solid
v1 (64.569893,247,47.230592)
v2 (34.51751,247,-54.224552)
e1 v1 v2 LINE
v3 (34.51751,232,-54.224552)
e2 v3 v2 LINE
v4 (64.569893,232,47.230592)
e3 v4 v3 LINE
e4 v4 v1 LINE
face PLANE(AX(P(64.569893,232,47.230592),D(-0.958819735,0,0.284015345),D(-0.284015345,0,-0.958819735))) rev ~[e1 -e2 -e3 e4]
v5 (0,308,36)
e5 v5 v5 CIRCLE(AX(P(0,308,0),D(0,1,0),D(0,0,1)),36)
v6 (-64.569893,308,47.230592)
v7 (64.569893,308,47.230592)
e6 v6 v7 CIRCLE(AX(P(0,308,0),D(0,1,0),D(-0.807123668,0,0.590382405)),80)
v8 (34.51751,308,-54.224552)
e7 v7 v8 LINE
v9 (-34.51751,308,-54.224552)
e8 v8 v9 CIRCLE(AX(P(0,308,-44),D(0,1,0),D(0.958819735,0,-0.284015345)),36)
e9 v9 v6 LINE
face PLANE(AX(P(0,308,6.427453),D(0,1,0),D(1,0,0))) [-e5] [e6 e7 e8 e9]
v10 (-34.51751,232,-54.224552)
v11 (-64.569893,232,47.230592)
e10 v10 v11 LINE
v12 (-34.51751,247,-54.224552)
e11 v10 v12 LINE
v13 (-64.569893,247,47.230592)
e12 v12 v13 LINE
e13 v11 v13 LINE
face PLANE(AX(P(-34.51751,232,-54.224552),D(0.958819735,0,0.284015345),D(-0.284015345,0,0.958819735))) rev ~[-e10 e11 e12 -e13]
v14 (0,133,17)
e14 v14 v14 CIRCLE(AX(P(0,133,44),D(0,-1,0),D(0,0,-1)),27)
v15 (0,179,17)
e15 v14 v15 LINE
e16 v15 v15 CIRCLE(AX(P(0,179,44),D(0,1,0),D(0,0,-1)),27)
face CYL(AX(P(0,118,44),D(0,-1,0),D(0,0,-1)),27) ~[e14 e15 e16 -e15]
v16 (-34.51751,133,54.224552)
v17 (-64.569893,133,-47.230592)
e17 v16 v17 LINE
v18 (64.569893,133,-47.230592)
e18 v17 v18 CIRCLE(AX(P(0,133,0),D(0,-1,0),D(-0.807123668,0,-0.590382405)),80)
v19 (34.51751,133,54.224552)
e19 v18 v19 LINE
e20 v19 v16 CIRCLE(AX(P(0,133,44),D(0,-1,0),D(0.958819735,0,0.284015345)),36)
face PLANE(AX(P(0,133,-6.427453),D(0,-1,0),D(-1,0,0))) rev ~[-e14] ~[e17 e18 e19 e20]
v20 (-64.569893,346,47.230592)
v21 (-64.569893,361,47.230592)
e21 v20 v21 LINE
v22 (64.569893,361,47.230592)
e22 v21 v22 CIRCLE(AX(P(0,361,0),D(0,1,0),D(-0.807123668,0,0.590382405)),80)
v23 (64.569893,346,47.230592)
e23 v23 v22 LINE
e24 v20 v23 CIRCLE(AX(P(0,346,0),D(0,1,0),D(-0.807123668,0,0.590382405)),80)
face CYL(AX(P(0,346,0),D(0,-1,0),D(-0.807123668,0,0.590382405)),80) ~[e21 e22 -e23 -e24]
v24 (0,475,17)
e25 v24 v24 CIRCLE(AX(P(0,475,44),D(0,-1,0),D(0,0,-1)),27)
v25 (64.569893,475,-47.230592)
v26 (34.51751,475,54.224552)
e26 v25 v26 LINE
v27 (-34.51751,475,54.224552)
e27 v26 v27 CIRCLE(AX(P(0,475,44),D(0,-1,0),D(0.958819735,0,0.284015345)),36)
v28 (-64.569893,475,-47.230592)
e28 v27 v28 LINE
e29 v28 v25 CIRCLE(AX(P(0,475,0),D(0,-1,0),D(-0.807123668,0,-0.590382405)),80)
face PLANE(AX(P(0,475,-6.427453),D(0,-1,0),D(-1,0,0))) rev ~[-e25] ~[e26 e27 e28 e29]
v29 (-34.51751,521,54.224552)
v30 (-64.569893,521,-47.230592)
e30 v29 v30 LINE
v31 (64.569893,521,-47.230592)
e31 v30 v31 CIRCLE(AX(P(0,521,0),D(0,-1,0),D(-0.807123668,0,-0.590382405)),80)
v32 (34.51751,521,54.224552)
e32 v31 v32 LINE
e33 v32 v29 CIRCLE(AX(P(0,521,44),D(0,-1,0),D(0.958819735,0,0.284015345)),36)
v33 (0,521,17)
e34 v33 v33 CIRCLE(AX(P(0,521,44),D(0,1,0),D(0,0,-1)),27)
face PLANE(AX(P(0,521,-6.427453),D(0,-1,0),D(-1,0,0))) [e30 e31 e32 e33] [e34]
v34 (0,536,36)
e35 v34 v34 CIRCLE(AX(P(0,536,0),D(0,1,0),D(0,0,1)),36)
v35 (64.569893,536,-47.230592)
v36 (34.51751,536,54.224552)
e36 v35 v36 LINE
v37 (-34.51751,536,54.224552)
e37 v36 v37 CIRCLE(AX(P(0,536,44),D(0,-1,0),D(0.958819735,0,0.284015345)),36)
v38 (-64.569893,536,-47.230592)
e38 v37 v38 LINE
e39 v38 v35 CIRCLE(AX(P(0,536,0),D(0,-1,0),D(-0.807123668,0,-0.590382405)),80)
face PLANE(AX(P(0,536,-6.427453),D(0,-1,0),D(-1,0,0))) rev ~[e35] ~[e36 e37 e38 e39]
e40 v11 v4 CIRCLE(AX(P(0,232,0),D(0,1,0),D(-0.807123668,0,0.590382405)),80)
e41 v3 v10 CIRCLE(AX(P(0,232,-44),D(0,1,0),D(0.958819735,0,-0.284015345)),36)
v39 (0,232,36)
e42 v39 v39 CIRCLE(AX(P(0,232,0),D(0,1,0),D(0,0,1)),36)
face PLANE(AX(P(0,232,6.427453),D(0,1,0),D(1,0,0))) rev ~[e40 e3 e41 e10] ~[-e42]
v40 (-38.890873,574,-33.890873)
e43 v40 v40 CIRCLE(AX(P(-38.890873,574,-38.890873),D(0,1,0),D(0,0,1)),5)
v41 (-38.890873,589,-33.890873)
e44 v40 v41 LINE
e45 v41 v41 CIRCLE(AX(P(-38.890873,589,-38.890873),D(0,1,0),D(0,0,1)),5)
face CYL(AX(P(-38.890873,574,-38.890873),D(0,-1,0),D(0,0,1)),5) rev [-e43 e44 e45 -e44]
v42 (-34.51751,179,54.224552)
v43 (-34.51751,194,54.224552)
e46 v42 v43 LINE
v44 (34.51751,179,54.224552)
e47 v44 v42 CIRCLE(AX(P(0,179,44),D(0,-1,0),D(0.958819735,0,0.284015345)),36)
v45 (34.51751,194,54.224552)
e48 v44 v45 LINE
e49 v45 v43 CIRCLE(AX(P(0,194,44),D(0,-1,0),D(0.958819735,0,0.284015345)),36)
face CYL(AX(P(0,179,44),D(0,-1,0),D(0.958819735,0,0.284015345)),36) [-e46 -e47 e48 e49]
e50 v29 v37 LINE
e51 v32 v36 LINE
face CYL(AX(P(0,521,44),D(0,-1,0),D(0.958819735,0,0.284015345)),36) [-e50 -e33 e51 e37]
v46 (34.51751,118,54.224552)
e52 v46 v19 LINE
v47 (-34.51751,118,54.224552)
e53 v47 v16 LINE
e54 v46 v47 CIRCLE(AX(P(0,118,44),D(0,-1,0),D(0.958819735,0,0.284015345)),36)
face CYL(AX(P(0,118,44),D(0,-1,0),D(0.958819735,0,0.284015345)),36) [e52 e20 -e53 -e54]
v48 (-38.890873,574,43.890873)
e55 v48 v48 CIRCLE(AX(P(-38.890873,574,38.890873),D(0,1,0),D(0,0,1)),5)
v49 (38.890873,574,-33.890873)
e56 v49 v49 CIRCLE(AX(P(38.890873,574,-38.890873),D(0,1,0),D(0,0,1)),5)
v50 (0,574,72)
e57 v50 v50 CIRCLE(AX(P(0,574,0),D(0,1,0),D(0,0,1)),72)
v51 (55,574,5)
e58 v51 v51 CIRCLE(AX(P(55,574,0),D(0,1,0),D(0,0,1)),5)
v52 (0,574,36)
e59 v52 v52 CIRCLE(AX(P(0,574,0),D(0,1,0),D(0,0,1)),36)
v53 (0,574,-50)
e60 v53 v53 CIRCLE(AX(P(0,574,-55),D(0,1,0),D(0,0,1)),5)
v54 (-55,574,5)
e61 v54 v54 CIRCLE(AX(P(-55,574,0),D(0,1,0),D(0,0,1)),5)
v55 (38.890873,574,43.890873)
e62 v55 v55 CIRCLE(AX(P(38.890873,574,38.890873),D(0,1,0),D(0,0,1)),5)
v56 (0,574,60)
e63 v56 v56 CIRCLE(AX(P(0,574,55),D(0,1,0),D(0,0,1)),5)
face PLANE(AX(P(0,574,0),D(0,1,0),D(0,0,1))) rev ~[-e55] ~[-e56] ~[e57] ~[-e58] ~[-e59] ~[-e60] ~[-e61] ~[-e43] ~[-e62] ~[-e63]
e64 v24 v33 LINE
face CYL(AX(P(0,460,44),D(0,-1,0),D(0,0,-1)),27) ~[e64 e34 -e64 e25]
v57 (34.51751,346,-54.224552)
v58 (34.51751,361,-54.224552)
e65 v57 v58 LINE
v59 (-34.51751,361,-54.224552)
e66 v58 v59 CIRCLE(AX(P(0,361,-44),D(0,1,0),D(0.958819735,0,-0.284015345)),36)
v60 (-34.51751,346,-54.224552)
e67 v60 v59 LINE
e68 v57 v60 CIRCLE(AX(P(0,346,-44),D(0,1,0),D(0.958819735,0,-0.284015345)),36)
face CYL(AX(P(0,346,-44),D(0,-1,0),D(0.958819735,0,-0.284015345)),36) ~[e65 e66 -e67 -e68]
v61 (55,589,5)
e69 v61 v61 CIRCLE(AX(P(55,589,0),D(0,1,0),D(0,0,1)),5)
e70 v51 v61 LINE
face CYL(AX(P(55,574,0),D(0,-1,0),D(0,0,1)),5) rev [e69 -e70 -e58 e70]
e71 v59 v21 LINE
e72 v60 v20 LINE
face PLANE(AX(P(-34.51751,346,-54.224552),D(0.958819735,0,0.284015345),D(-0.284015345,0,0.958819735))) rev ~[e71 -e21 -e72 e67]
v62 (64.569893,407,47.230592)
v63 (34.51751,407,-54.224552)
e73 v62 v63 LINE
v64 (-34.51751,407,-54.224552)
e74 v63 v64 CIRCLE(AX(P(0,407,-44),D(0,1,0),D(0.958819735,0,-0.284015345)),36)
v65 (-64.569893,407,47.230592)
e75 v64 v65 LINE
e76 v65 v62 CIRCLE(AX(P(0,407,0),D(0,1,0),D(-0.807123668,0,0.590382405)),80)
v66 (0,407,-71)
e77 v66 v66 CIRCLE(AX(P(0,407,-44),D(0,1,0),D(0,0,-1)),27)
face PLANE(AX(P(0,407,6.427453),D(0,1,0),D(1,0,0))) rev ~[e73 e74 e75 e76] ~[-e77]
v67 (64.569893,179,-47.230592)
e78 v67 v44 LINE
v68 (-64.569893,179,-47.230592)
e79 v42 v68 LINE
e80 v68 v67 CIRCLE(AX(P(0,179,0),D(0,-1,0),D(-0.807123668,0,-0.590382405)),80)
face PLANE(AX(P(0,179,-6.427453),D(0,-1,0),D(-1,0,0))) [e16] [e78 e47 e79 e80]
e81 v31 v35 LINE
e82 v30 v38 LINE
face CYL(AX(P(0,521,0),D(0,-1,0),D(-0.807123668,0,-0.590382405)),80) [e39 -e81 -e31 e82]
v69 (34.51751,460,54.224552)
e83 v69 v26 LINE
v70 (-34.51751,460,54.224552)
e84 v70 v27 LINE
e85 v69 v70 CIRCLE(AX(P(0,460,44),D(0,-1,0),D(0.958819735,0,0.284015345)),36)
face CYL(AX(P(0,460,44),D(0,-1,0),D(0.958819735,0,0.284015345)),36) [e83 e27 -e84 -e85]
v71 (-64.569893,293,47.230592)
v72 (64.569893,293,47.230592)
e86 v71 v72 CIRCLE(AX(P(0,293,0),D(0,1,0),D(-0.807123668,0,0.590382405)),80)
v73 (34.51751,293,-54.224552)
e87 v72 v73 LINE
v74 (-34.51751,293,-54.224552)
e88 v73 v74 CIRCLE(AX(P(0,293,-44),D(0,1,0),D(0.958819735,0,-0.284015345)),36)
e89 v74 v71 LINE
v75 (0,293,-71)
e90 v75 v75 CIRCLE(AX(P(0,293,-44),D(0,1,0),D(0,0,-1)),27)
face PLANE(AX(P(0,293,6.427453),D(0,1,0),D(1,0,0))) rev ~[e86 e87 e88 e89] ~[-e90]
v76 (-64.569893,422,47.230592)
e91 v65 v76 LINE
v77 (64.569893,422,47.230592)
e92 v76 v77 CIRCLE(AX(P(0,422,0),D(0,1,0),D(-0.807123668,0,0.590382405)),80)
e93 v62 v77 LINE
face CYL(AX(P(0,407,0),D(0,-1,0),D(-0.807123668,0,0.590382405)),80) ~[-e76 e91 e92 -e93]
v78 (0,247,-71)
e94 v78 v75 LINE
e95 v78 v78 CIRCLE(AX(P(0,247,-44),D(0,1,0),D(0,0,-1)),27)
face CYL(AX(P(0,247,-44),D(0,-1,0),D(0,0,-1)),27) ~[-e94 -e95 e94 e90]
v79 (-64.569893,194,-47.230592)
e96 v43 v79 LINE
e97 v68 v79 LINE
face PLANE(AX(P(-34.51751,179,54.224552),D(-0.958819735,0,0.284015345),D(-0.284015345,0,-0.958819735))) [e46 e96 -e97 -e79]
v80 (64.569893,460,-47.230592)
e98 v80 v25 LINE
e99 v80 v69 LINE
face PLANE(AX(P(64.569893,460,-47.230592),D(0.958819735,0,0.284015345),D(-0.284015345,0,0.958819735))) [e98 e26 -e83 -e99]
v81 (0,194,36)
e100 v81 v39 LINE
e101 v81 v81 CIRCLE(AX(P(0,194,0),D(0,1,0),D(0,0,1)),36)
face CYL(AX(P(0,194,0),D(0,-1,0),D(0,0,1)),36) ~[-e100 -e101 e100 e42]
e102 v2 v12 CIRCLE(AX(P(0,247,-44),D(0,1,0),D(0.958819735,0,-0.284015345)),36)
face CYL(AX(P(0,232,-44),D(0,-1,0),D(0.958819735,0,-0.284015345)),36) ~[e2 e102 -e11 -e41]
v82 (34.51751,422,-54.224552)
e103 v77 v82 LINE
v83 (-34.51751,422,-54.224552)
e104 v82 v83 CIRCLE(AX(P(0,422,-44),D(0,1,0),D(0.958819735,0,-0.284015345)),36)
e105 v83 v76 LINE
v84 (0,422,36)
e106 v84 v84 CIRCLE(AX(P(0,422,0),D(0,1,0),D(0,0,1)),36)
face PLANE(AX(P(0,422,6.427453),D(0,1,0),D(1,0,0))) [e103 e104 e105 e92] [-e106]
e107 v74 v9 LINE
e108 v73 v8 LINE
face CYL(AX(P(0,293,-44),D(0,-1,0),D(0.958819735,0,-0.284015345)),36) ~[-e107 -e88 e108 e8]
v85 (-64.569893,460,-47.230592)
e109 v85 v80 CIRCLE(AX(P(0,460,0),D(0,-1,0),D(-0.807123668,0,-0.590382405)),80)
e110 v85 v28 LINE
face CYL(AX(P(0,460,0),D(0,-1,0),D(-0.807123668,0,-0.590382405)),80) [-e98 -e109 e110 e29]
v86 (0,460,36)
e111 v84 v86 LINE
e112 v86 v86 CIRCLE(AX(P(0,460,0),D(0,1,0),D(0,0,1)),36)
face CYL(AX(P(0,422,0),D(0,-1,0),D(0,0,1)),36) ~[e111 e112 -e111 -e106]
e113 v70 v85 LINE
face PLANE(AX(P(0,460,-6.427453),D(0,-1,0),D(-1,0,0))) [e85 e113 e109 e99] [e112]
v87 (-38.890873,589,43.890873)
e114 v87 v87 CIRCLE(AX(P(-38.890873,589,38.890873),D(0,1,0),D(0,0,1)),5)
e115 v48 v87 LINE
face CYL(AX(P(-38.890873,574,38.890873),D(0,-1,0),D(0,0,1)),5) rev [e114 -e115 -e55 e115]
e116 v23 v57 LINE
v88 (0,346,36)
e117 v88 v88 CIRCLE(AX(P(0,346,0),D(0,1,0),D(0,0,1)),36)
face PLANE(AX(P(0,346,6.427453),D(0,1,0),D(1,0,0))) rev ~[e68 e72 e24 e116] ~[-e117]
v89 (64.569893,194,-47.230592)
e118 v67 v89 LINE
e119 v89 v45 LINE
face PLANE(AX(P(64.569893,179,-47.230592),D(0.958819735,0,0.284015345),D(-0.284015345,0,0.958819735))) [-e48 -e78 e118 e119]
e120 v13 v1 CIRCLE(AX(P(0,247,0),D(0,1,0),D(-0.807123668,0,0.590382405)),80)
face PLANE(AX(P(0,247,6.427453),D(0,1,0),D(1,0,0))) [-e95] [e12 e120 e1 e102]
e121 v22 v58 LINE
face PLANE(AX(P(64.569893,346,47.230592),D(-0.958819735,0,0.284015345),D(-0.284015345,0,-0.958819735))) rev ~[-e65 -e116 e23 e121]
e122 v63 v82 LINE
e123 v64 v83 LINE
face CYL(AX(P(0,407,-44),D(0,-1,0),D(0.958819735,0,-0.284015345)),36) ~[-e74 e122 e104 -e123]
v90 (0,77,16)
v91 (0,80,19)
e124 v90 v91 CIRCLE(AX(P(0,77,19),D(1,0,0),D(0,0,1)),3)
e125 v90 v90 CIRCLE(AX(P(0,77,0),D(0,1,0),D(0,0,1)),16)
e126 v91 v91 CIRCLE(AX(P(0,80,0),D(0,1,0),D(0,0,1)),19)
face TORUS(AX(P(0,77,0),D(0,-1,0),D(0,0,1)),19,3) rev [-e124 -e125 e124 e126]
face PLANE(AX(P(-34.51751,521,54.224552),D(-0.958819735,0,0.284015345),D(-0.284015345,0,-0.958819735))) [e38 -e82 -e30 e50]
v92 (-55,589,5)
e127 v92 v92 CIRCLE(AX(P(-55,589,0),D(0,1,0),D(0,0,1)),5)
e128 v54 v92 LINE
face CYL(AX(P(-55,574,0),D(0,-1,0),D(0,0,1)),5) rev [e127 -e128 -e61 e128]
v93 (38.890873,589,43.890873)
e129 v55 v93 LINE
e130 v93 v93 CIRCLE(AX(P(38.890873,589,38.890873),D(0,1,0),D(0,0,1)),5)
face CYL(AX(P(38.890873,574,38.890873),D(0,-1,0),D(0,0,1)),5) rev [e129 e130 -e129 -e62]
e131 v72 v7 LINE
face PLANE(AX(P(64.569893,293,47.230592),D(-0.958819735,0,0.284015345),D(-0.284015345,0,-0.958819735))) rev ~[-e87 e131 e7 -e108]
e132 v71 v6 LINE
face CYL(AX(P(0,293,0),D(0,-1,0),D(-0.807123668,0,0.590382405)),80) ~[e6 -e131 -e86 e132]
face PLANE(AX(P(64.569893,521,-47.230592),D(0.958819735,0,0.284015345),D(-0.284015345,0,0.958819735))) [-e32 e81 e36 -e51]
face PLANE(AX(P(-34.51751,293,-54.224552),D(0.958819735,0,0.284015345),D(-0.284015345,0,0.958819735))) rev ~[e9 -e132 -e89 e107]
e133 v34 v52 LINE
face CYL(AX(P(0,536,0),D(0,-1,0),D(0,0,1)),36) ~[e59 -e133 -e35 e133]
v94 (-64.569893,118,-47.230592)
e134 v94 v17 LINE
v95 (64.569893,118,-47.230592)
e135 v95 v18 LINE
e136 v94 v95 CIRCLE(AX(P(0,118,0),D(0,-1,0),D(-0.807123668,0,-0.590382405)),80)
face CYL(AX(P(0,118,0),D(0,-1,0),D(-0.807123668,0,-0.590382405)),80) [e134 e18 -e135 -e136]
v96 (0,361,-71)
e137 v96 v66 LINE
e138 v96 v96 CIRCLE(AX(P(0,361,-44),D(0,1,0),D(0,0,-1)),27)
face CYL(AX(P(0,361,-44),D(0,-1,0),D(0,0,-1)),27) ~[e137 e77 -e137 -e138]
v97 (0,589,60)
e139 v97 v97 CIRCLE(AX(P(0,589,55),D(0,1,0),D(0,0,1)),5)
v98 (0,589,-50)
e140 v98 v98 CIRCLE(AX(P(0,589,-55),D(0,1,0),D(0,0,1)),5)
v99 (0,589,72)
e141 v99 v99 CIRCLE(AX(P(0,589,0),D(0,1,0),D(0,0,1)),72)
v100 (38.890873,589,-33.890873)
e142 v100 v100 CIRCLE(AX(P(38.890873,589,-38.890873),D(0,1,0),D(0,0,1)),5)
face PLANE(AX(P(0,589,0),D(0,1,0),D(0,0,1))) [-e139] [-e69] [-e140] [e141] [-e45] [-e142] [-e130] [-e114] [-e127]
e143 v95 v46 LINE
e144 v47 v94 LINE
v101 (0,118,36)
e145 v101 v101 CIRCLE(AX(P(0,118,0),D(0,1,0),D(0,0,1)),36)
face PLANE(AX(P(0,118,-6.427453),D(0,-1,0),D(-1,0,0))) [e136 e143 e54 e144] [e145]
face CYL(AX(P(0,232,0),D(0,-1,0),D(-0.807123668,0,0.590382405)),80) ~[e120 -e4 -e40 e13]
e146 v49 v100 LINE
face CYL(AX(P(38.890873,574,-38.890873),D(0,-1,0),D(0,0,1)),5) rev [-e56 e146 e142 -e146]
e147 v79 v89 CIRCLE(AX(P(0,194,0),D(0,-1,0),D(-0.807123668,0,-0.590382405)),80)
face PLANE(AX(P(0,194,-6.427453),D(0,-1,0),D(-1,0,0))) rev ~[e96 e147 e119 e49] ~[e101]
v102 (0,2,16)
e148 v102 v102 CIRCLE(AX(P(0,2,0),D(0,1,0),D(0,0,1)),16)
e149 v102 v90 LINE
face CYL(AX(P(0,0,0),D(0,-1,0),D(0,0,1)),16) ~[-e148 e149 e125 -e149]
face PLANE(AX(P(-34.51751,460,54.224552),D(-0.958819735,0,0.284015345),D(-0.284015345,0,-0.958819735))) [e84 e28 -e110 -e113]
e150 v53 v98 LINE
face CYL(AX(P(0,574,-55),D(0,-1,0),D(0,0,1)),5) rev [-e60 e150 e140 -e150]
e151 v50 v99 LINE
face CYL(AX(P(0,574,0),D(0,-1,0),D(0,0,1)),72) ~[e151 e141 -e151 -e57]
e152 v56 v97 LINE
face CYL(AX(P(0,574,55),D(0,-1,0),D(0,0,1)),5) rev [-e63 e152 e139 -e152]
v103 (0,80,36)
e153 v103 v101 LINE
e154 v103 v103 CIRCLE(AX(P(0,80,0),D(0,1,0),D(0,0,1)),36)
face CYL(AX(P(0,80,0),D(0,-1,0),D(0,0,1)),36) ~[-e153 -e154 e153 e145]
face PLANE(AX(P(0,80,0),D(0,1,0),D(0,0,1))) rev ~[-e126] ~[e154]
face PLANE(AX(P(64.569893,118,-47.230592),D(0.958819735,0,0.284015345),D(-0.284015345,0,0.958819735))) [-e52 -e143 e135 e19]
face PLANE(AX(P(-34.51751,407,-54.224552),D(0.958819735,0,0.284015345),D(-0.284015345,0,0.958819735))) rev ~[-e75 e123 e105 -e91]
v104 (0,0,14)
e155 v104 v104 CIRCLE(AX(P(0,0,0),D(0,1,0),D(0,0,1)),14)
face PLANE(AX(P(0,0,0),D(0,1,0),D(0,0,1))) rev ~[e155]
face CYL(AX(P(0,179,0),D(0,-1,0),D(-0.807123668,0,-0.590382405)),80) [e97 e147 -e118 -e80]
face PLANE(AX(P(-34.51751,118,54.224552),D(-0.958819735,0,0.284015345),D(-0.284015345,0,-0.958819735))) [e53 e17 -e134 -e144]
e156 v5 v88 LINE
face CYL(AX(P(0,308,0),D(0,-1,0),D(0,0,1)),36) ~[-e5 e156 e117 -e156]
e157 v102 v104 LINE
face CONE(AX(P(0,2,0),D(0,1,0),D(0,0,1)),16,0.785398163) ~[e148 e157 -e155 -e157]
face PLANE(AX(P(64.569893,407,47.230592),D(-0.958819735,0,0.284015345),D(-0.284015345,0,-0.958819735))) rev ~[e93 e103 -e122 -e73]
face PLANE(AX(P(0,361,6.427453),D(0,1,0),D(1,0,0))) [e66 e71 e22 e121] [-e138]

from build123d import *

# Parameters (mm, degrees)
SKETCH1_R              = 16
BOSS_EXTRUDE1_DEPTH    = 80
BOSS_EXTRUDE2_START    = 80
SKETCH1_3_R            = 36
SKETCH1_3_R_2          = 16
BOSS_EXTRUDE2_DEPTH    = 38
BOSS_EXTRUDE3_DEPTH    = 15
SKETCH2_3_R            = 27
BOSS_EXTRUDE4_DEPTH    = 61
LPATTERN1_COUNT        = 2
LPATTERN1_PITCH        = 61
SKETCH3_R              = 36
BOSS_EXTRUDE5_DEPTH    = 38
BOSS_EXTRUDE6_START    = 38
BOSS_EXTRUDE6_DEPTH    = 15
SKETCH6_R              = 27
BOSS_EXTRUDE8_DEPTH    = 46
LPATTERN3_COUNT        = 2
LPATTERN3_PITCH        = 61
LPATTERN5_COUNT        = 2
LPATTERN5_PITCH        = 114
LPATTERN5_START        = 38
LPATTERN5_COPY_1_DEPTH = 15
LPATTERN6_COUNT        = 2
LPATTERN6_PITCH        = 342
LPATTERN6_COPY_1_DEPTH = 15
SKETCH7_R              = 36
BOSS_EXTRUDE9_DEPTH    = 38
SKETCH8_R              = 72
SKETCH8_R_2            = 5
BOSS_EXTRUDE10_DEPTH   = 15
CHAMFER1_SIZE          = 2
FILLET1_R              = 3


with BuildPart() as part:
    # Sketch1 → Boss-Extrude1 (new body)
    with BuildSketch(Plane(origin=(0, 0, 0), x_dir=(1, 0, 0), z_dir=(0, 1, 0))):
        with Locations(Location((0, 0, 0), (0, 0, 270))):
            Circle(SKETCH1_R)
    extrude(amount=BOSS_EXTRUDE1_DEPTH)

    # Sketch1<3> → Boss-Extrude2 (add)
    # profile 1 of 2: a face of its own
    with BuildSketch(Plane(origin=(0, 0, 0), x_dir=(1, 0, 0), z_dir=(0, 1, 0)).offset(BOSS_EXTRUDE2_START)):
        with Locations(Location((0, 0, 0), (0, 0, 270))):
            Circle(SKETCH1_3_R)
        with Locations(Location((0, 0, 0), (0, 0, 270))):
            Circle(SKETCH1_3_R_2, mode=Mode.SUBTRACT)
    # profile 2 of 2: a face of its own
    with BuildSketch(Plane(origin=(0, 0, 0), x_dir=(1, 0, 0), z_dir=(0, 1, 0)).offset(BOSS_EXTRUDE2_START)):
        with Locations(Location((0, 0, 0), (0, 0, 270))):
            Circle(SKETCH1_3_R_2)
    boss_extrude2 = extrude(amount=BOSS_EXTRUDE2_DEPTH)

    # Sketch2 → Boss-Extrude3 (add)
    with BuildSketch(Plane(origin=(0, 118, 0), x_dir=(1, 0, 0), z_dir=(0, 1, 0))):
        with BuildLine():
            Line((-34.517510455, -54.224552409), (-64.569893475, 47.23059238))
            ThreePointArc((-64.569893475, 47.23059238), (0, 80), (64.569893475, 47.23059238))
            Line((64.569893475, 47.23059238), (34.517510455, -54.224552409))
            ThreePointArc((34.517510455, -54.224552409), (0, -80), (-34.517510455, -54.224552409))
        make_face()
    boss_extrude3 = extrude(amount=BOSS_EXTRUDE3_DEPTH)

    # Sketch2<3> → Boss-Extrude4 (add)
    with BuildSketch(Plane(origin=(0, 118, 0), x_dir=(1, 0, 0), z_dir=(0, 1, 0))):
        with Locations(Location((0, -44, 0), (0, 0, 90))):
            Circle(SKETCH2_3_R)
    boss_extrude4 = extrude(amount=BOSS_EXTRUDE4_DEPTH)

    # LPattern1: Boss-Extrude3 ×2
    with Locations(*[(0, i * LPATTERN1_PITCH, 0) for i in range(1, LPATTERN1_COUNT)]):
        add(boss_extrude3)

    # Sketch3 → Boss-Extrude5 (add)
    with BuildSketch(Plane(origin=(0, 194, 0), x_dir=(1, 0, 0), z_dir=(0, 1, 0))):
        with Locations(Location((0, 0, 0), (0, 0, 270))):
            Circle(SKETCH3_R)
    boss_extrude5 = extrude(amount=BOSS_EXTRUDE5_DEPTH)

    # Sketch5 → Boss-Extrude6 (add)
    with BuildSketch(Plane(origin=(0, 194, 0), x_dir=(1, 0, 0), z_dir=(0, 1, 0)).offset(BOSS_EXTRUDE6_START)):
        with BuildLine():
            Line((-34.517510455, 54.224552409), (-64.569893475, -47.23059238))
            ThreePointArc((-64.569893475, -47.23059238), (0, -80), (64.569893475, -47.23059238))
            Line((64.569893475, -47.23059238), (34.517510455, 54.224552409))
            ThreePointArc((34.517510455, 54.224552409), (0, 80), (-34.517510455, 54.224552409))
        make_face()
    boss_extrude6 = extrude(amount=BOSS_EXTRUDE6_DEPTH)

    # Sketch6 → Boss-Extrude8 (add)
    with BuildSketch(Plane(origin=(0, 247, 0), x_dir=(1, 0, 0), z_dir=(0, 1, 0))):
        with Locations(Location((0, 44, 0), (0, 0, 90))):
            Circle(SKETCH6_R)
    boss_extrude8 = extrude(amount=BOSS_EXTRUDE8_DEPTH)

    # LPattern3: Boss-Extrude6 ×2
    with Locations(*[(0, i * LPATTERN3_PITCH, 0) for i in range(1, LPATTERN3_COUNT)]):
        add(boss_extrude6)

    # LPattern5: Boss-Extrude5, Boss-Extrude6, Boss-Extrude8 ×2
    with Locations(*[(0, i * LPATTERN5_PITCH, 0) for i in range(1, LPATTERN5_COUNT)]):
        add(boss_extrude5)
        add(boss_extrude6)
        add(boss_extrude8)

    # LPattern5 copy 1 sketch → LPattern5 copy 1 (add)
    with BuildSketch(Plane(origin=(0, 369, 0), x_dir=(1, 0, 0), z_dir=(0, 1, 0)).offset(LPATTERN5_START)):
        with BuildLine():
            Line((-34.517510455, 54.224552409), (-64.569893475, -47.23059238))
            ThreePointArc((-64.569893475, -47.23059238), (0, -80), (64.569893475, -47.23059238))
            Line((64.569893475, -47.23059238), (34.517510455, 54.224552409))
            ThreePointArc((34.517510455, 54.224552409), (0, 80), (-34.517510455, 54.224552409))
        make_face()
    extrude(amount=LPATTERN5_COPY_1_DEPTH)

    # LPattern6: Boss-Extrude2, Boss-Extrude3, Boss-Extrude4 ×2
    with Locations(*[(0, i * LPATTERN6_PITCH, 0) for i in range(1, LPATTERN6_COUNT)]):
        add(boss_extrude2)
        add(boss_extrude3)
        add(boss_extrude4)

    # LPattern6 copy 1 sketch → LPattern6 copy 1 (add)
    with BuildSketch(Plane(origin=(0, 521, 0), x_dir=(1, 0, 0), z_dir=(0, 1, 0))):
        with BuildLine():
            Line((-34.517510455, -54.224552409), (-64.569893475, 47.23059238))
            ThreePointArc((-64.569893475, 47.23059238), (0, 80), (64.569893475, 47.23059238))
            Line((64.569893475, 47.23059238), (34.517510455, -54.224552409))
            ThreePointArc((34.517510455, -54.224552409), (0, -80), (-34.517510455, -54.224552409))
        make_face()
    extrude(amount=LPATTERN6_COPY_1_DEPTH)

    # Sketch7 → Boss-Extrude9 (add)
    with BuildSketch(Plane(origin=(0, 536, 0), x_dir=(1, 0, 0), z_dir=(0, 1, 0))):
        with Locations(Location((0, 0, 0), (0, 0, 270))):
            Circle(SKETCH7_R)
    extrude(amount=BOSS_EXTRUDE9_DEPTH)

    # Sketch8 → Boss-Extrude10 (add)
    with BuildSketch(Plane(origin=(0, 574, 0), x_dir=(1, 0, 0), z_dir=(0, 1, 0))):
        with Locations(Location((0, 0, 0), (0, 0, 270))):
            Circle(SKETCH8_R)
        with Locations(Location((0, 55, 0), (0, 0, 270))):
            Circle(SKETCH8_R_2, mode=Mode.SUBTRACT)
        with Locations(Location((38.890872965, 38.890872965, 0), (0, 0, 270))):
            Circle(SKETCH8_R_2, mode=Mode.SUBTRACT)
        with Locations(Location((55, 0, 0), (0, 0, 270))):
            Circle(SKETCH8_R_2, mode=Mode.SUBTRACT)
        with Locations(Location((38.890872965, -38.890872965, 0), (0, 0, 270))):
            Circle(SKETCH8_R_2, mode=Mode.SUBTRACT)
        with Locations(Location((0, -55, 0), (0, 0, 270))):
            Circle(SKETCH8_R_2, mode=Mode.SUBTRACT)
        with Locations(Location((-38.890872965, -38.890872965, 0), (0, 0, 270))):
            Circle(SKETCH8_R_2, mode=Mode.SUBTRACT)
        with Locations(Location((-55, 0, 0), (0, 0, 270))):
            Circle(SKETCH8_R_2, mode=Mode.SUBTRACT)
        with Locations(Location((-38.890872965, 38.890872965, 0), (0, 0, 270))):
            Circle(SKETCH8_R_2, mode=Mode.SUBTRACT)
    extrude(amount=BOSS_EXTRUDE10_DEPTH)

    # Chamfer1
    chamfer1_edges = [part.edges().sort_by_distance(p)[0] for p in [
        (0, 0, -16),
    ]]
    chamfer(chamfer1_edges, length=CHAMFER1_SIZE)

    # Fillet1
    fillet1_edges = [part.edges().sort_by_distance(p)[0] for p in [
        (0, 80, -16),
    ]]
    fillet(fillet1_edges, radius=FILLET1_R)


solid = part.part
